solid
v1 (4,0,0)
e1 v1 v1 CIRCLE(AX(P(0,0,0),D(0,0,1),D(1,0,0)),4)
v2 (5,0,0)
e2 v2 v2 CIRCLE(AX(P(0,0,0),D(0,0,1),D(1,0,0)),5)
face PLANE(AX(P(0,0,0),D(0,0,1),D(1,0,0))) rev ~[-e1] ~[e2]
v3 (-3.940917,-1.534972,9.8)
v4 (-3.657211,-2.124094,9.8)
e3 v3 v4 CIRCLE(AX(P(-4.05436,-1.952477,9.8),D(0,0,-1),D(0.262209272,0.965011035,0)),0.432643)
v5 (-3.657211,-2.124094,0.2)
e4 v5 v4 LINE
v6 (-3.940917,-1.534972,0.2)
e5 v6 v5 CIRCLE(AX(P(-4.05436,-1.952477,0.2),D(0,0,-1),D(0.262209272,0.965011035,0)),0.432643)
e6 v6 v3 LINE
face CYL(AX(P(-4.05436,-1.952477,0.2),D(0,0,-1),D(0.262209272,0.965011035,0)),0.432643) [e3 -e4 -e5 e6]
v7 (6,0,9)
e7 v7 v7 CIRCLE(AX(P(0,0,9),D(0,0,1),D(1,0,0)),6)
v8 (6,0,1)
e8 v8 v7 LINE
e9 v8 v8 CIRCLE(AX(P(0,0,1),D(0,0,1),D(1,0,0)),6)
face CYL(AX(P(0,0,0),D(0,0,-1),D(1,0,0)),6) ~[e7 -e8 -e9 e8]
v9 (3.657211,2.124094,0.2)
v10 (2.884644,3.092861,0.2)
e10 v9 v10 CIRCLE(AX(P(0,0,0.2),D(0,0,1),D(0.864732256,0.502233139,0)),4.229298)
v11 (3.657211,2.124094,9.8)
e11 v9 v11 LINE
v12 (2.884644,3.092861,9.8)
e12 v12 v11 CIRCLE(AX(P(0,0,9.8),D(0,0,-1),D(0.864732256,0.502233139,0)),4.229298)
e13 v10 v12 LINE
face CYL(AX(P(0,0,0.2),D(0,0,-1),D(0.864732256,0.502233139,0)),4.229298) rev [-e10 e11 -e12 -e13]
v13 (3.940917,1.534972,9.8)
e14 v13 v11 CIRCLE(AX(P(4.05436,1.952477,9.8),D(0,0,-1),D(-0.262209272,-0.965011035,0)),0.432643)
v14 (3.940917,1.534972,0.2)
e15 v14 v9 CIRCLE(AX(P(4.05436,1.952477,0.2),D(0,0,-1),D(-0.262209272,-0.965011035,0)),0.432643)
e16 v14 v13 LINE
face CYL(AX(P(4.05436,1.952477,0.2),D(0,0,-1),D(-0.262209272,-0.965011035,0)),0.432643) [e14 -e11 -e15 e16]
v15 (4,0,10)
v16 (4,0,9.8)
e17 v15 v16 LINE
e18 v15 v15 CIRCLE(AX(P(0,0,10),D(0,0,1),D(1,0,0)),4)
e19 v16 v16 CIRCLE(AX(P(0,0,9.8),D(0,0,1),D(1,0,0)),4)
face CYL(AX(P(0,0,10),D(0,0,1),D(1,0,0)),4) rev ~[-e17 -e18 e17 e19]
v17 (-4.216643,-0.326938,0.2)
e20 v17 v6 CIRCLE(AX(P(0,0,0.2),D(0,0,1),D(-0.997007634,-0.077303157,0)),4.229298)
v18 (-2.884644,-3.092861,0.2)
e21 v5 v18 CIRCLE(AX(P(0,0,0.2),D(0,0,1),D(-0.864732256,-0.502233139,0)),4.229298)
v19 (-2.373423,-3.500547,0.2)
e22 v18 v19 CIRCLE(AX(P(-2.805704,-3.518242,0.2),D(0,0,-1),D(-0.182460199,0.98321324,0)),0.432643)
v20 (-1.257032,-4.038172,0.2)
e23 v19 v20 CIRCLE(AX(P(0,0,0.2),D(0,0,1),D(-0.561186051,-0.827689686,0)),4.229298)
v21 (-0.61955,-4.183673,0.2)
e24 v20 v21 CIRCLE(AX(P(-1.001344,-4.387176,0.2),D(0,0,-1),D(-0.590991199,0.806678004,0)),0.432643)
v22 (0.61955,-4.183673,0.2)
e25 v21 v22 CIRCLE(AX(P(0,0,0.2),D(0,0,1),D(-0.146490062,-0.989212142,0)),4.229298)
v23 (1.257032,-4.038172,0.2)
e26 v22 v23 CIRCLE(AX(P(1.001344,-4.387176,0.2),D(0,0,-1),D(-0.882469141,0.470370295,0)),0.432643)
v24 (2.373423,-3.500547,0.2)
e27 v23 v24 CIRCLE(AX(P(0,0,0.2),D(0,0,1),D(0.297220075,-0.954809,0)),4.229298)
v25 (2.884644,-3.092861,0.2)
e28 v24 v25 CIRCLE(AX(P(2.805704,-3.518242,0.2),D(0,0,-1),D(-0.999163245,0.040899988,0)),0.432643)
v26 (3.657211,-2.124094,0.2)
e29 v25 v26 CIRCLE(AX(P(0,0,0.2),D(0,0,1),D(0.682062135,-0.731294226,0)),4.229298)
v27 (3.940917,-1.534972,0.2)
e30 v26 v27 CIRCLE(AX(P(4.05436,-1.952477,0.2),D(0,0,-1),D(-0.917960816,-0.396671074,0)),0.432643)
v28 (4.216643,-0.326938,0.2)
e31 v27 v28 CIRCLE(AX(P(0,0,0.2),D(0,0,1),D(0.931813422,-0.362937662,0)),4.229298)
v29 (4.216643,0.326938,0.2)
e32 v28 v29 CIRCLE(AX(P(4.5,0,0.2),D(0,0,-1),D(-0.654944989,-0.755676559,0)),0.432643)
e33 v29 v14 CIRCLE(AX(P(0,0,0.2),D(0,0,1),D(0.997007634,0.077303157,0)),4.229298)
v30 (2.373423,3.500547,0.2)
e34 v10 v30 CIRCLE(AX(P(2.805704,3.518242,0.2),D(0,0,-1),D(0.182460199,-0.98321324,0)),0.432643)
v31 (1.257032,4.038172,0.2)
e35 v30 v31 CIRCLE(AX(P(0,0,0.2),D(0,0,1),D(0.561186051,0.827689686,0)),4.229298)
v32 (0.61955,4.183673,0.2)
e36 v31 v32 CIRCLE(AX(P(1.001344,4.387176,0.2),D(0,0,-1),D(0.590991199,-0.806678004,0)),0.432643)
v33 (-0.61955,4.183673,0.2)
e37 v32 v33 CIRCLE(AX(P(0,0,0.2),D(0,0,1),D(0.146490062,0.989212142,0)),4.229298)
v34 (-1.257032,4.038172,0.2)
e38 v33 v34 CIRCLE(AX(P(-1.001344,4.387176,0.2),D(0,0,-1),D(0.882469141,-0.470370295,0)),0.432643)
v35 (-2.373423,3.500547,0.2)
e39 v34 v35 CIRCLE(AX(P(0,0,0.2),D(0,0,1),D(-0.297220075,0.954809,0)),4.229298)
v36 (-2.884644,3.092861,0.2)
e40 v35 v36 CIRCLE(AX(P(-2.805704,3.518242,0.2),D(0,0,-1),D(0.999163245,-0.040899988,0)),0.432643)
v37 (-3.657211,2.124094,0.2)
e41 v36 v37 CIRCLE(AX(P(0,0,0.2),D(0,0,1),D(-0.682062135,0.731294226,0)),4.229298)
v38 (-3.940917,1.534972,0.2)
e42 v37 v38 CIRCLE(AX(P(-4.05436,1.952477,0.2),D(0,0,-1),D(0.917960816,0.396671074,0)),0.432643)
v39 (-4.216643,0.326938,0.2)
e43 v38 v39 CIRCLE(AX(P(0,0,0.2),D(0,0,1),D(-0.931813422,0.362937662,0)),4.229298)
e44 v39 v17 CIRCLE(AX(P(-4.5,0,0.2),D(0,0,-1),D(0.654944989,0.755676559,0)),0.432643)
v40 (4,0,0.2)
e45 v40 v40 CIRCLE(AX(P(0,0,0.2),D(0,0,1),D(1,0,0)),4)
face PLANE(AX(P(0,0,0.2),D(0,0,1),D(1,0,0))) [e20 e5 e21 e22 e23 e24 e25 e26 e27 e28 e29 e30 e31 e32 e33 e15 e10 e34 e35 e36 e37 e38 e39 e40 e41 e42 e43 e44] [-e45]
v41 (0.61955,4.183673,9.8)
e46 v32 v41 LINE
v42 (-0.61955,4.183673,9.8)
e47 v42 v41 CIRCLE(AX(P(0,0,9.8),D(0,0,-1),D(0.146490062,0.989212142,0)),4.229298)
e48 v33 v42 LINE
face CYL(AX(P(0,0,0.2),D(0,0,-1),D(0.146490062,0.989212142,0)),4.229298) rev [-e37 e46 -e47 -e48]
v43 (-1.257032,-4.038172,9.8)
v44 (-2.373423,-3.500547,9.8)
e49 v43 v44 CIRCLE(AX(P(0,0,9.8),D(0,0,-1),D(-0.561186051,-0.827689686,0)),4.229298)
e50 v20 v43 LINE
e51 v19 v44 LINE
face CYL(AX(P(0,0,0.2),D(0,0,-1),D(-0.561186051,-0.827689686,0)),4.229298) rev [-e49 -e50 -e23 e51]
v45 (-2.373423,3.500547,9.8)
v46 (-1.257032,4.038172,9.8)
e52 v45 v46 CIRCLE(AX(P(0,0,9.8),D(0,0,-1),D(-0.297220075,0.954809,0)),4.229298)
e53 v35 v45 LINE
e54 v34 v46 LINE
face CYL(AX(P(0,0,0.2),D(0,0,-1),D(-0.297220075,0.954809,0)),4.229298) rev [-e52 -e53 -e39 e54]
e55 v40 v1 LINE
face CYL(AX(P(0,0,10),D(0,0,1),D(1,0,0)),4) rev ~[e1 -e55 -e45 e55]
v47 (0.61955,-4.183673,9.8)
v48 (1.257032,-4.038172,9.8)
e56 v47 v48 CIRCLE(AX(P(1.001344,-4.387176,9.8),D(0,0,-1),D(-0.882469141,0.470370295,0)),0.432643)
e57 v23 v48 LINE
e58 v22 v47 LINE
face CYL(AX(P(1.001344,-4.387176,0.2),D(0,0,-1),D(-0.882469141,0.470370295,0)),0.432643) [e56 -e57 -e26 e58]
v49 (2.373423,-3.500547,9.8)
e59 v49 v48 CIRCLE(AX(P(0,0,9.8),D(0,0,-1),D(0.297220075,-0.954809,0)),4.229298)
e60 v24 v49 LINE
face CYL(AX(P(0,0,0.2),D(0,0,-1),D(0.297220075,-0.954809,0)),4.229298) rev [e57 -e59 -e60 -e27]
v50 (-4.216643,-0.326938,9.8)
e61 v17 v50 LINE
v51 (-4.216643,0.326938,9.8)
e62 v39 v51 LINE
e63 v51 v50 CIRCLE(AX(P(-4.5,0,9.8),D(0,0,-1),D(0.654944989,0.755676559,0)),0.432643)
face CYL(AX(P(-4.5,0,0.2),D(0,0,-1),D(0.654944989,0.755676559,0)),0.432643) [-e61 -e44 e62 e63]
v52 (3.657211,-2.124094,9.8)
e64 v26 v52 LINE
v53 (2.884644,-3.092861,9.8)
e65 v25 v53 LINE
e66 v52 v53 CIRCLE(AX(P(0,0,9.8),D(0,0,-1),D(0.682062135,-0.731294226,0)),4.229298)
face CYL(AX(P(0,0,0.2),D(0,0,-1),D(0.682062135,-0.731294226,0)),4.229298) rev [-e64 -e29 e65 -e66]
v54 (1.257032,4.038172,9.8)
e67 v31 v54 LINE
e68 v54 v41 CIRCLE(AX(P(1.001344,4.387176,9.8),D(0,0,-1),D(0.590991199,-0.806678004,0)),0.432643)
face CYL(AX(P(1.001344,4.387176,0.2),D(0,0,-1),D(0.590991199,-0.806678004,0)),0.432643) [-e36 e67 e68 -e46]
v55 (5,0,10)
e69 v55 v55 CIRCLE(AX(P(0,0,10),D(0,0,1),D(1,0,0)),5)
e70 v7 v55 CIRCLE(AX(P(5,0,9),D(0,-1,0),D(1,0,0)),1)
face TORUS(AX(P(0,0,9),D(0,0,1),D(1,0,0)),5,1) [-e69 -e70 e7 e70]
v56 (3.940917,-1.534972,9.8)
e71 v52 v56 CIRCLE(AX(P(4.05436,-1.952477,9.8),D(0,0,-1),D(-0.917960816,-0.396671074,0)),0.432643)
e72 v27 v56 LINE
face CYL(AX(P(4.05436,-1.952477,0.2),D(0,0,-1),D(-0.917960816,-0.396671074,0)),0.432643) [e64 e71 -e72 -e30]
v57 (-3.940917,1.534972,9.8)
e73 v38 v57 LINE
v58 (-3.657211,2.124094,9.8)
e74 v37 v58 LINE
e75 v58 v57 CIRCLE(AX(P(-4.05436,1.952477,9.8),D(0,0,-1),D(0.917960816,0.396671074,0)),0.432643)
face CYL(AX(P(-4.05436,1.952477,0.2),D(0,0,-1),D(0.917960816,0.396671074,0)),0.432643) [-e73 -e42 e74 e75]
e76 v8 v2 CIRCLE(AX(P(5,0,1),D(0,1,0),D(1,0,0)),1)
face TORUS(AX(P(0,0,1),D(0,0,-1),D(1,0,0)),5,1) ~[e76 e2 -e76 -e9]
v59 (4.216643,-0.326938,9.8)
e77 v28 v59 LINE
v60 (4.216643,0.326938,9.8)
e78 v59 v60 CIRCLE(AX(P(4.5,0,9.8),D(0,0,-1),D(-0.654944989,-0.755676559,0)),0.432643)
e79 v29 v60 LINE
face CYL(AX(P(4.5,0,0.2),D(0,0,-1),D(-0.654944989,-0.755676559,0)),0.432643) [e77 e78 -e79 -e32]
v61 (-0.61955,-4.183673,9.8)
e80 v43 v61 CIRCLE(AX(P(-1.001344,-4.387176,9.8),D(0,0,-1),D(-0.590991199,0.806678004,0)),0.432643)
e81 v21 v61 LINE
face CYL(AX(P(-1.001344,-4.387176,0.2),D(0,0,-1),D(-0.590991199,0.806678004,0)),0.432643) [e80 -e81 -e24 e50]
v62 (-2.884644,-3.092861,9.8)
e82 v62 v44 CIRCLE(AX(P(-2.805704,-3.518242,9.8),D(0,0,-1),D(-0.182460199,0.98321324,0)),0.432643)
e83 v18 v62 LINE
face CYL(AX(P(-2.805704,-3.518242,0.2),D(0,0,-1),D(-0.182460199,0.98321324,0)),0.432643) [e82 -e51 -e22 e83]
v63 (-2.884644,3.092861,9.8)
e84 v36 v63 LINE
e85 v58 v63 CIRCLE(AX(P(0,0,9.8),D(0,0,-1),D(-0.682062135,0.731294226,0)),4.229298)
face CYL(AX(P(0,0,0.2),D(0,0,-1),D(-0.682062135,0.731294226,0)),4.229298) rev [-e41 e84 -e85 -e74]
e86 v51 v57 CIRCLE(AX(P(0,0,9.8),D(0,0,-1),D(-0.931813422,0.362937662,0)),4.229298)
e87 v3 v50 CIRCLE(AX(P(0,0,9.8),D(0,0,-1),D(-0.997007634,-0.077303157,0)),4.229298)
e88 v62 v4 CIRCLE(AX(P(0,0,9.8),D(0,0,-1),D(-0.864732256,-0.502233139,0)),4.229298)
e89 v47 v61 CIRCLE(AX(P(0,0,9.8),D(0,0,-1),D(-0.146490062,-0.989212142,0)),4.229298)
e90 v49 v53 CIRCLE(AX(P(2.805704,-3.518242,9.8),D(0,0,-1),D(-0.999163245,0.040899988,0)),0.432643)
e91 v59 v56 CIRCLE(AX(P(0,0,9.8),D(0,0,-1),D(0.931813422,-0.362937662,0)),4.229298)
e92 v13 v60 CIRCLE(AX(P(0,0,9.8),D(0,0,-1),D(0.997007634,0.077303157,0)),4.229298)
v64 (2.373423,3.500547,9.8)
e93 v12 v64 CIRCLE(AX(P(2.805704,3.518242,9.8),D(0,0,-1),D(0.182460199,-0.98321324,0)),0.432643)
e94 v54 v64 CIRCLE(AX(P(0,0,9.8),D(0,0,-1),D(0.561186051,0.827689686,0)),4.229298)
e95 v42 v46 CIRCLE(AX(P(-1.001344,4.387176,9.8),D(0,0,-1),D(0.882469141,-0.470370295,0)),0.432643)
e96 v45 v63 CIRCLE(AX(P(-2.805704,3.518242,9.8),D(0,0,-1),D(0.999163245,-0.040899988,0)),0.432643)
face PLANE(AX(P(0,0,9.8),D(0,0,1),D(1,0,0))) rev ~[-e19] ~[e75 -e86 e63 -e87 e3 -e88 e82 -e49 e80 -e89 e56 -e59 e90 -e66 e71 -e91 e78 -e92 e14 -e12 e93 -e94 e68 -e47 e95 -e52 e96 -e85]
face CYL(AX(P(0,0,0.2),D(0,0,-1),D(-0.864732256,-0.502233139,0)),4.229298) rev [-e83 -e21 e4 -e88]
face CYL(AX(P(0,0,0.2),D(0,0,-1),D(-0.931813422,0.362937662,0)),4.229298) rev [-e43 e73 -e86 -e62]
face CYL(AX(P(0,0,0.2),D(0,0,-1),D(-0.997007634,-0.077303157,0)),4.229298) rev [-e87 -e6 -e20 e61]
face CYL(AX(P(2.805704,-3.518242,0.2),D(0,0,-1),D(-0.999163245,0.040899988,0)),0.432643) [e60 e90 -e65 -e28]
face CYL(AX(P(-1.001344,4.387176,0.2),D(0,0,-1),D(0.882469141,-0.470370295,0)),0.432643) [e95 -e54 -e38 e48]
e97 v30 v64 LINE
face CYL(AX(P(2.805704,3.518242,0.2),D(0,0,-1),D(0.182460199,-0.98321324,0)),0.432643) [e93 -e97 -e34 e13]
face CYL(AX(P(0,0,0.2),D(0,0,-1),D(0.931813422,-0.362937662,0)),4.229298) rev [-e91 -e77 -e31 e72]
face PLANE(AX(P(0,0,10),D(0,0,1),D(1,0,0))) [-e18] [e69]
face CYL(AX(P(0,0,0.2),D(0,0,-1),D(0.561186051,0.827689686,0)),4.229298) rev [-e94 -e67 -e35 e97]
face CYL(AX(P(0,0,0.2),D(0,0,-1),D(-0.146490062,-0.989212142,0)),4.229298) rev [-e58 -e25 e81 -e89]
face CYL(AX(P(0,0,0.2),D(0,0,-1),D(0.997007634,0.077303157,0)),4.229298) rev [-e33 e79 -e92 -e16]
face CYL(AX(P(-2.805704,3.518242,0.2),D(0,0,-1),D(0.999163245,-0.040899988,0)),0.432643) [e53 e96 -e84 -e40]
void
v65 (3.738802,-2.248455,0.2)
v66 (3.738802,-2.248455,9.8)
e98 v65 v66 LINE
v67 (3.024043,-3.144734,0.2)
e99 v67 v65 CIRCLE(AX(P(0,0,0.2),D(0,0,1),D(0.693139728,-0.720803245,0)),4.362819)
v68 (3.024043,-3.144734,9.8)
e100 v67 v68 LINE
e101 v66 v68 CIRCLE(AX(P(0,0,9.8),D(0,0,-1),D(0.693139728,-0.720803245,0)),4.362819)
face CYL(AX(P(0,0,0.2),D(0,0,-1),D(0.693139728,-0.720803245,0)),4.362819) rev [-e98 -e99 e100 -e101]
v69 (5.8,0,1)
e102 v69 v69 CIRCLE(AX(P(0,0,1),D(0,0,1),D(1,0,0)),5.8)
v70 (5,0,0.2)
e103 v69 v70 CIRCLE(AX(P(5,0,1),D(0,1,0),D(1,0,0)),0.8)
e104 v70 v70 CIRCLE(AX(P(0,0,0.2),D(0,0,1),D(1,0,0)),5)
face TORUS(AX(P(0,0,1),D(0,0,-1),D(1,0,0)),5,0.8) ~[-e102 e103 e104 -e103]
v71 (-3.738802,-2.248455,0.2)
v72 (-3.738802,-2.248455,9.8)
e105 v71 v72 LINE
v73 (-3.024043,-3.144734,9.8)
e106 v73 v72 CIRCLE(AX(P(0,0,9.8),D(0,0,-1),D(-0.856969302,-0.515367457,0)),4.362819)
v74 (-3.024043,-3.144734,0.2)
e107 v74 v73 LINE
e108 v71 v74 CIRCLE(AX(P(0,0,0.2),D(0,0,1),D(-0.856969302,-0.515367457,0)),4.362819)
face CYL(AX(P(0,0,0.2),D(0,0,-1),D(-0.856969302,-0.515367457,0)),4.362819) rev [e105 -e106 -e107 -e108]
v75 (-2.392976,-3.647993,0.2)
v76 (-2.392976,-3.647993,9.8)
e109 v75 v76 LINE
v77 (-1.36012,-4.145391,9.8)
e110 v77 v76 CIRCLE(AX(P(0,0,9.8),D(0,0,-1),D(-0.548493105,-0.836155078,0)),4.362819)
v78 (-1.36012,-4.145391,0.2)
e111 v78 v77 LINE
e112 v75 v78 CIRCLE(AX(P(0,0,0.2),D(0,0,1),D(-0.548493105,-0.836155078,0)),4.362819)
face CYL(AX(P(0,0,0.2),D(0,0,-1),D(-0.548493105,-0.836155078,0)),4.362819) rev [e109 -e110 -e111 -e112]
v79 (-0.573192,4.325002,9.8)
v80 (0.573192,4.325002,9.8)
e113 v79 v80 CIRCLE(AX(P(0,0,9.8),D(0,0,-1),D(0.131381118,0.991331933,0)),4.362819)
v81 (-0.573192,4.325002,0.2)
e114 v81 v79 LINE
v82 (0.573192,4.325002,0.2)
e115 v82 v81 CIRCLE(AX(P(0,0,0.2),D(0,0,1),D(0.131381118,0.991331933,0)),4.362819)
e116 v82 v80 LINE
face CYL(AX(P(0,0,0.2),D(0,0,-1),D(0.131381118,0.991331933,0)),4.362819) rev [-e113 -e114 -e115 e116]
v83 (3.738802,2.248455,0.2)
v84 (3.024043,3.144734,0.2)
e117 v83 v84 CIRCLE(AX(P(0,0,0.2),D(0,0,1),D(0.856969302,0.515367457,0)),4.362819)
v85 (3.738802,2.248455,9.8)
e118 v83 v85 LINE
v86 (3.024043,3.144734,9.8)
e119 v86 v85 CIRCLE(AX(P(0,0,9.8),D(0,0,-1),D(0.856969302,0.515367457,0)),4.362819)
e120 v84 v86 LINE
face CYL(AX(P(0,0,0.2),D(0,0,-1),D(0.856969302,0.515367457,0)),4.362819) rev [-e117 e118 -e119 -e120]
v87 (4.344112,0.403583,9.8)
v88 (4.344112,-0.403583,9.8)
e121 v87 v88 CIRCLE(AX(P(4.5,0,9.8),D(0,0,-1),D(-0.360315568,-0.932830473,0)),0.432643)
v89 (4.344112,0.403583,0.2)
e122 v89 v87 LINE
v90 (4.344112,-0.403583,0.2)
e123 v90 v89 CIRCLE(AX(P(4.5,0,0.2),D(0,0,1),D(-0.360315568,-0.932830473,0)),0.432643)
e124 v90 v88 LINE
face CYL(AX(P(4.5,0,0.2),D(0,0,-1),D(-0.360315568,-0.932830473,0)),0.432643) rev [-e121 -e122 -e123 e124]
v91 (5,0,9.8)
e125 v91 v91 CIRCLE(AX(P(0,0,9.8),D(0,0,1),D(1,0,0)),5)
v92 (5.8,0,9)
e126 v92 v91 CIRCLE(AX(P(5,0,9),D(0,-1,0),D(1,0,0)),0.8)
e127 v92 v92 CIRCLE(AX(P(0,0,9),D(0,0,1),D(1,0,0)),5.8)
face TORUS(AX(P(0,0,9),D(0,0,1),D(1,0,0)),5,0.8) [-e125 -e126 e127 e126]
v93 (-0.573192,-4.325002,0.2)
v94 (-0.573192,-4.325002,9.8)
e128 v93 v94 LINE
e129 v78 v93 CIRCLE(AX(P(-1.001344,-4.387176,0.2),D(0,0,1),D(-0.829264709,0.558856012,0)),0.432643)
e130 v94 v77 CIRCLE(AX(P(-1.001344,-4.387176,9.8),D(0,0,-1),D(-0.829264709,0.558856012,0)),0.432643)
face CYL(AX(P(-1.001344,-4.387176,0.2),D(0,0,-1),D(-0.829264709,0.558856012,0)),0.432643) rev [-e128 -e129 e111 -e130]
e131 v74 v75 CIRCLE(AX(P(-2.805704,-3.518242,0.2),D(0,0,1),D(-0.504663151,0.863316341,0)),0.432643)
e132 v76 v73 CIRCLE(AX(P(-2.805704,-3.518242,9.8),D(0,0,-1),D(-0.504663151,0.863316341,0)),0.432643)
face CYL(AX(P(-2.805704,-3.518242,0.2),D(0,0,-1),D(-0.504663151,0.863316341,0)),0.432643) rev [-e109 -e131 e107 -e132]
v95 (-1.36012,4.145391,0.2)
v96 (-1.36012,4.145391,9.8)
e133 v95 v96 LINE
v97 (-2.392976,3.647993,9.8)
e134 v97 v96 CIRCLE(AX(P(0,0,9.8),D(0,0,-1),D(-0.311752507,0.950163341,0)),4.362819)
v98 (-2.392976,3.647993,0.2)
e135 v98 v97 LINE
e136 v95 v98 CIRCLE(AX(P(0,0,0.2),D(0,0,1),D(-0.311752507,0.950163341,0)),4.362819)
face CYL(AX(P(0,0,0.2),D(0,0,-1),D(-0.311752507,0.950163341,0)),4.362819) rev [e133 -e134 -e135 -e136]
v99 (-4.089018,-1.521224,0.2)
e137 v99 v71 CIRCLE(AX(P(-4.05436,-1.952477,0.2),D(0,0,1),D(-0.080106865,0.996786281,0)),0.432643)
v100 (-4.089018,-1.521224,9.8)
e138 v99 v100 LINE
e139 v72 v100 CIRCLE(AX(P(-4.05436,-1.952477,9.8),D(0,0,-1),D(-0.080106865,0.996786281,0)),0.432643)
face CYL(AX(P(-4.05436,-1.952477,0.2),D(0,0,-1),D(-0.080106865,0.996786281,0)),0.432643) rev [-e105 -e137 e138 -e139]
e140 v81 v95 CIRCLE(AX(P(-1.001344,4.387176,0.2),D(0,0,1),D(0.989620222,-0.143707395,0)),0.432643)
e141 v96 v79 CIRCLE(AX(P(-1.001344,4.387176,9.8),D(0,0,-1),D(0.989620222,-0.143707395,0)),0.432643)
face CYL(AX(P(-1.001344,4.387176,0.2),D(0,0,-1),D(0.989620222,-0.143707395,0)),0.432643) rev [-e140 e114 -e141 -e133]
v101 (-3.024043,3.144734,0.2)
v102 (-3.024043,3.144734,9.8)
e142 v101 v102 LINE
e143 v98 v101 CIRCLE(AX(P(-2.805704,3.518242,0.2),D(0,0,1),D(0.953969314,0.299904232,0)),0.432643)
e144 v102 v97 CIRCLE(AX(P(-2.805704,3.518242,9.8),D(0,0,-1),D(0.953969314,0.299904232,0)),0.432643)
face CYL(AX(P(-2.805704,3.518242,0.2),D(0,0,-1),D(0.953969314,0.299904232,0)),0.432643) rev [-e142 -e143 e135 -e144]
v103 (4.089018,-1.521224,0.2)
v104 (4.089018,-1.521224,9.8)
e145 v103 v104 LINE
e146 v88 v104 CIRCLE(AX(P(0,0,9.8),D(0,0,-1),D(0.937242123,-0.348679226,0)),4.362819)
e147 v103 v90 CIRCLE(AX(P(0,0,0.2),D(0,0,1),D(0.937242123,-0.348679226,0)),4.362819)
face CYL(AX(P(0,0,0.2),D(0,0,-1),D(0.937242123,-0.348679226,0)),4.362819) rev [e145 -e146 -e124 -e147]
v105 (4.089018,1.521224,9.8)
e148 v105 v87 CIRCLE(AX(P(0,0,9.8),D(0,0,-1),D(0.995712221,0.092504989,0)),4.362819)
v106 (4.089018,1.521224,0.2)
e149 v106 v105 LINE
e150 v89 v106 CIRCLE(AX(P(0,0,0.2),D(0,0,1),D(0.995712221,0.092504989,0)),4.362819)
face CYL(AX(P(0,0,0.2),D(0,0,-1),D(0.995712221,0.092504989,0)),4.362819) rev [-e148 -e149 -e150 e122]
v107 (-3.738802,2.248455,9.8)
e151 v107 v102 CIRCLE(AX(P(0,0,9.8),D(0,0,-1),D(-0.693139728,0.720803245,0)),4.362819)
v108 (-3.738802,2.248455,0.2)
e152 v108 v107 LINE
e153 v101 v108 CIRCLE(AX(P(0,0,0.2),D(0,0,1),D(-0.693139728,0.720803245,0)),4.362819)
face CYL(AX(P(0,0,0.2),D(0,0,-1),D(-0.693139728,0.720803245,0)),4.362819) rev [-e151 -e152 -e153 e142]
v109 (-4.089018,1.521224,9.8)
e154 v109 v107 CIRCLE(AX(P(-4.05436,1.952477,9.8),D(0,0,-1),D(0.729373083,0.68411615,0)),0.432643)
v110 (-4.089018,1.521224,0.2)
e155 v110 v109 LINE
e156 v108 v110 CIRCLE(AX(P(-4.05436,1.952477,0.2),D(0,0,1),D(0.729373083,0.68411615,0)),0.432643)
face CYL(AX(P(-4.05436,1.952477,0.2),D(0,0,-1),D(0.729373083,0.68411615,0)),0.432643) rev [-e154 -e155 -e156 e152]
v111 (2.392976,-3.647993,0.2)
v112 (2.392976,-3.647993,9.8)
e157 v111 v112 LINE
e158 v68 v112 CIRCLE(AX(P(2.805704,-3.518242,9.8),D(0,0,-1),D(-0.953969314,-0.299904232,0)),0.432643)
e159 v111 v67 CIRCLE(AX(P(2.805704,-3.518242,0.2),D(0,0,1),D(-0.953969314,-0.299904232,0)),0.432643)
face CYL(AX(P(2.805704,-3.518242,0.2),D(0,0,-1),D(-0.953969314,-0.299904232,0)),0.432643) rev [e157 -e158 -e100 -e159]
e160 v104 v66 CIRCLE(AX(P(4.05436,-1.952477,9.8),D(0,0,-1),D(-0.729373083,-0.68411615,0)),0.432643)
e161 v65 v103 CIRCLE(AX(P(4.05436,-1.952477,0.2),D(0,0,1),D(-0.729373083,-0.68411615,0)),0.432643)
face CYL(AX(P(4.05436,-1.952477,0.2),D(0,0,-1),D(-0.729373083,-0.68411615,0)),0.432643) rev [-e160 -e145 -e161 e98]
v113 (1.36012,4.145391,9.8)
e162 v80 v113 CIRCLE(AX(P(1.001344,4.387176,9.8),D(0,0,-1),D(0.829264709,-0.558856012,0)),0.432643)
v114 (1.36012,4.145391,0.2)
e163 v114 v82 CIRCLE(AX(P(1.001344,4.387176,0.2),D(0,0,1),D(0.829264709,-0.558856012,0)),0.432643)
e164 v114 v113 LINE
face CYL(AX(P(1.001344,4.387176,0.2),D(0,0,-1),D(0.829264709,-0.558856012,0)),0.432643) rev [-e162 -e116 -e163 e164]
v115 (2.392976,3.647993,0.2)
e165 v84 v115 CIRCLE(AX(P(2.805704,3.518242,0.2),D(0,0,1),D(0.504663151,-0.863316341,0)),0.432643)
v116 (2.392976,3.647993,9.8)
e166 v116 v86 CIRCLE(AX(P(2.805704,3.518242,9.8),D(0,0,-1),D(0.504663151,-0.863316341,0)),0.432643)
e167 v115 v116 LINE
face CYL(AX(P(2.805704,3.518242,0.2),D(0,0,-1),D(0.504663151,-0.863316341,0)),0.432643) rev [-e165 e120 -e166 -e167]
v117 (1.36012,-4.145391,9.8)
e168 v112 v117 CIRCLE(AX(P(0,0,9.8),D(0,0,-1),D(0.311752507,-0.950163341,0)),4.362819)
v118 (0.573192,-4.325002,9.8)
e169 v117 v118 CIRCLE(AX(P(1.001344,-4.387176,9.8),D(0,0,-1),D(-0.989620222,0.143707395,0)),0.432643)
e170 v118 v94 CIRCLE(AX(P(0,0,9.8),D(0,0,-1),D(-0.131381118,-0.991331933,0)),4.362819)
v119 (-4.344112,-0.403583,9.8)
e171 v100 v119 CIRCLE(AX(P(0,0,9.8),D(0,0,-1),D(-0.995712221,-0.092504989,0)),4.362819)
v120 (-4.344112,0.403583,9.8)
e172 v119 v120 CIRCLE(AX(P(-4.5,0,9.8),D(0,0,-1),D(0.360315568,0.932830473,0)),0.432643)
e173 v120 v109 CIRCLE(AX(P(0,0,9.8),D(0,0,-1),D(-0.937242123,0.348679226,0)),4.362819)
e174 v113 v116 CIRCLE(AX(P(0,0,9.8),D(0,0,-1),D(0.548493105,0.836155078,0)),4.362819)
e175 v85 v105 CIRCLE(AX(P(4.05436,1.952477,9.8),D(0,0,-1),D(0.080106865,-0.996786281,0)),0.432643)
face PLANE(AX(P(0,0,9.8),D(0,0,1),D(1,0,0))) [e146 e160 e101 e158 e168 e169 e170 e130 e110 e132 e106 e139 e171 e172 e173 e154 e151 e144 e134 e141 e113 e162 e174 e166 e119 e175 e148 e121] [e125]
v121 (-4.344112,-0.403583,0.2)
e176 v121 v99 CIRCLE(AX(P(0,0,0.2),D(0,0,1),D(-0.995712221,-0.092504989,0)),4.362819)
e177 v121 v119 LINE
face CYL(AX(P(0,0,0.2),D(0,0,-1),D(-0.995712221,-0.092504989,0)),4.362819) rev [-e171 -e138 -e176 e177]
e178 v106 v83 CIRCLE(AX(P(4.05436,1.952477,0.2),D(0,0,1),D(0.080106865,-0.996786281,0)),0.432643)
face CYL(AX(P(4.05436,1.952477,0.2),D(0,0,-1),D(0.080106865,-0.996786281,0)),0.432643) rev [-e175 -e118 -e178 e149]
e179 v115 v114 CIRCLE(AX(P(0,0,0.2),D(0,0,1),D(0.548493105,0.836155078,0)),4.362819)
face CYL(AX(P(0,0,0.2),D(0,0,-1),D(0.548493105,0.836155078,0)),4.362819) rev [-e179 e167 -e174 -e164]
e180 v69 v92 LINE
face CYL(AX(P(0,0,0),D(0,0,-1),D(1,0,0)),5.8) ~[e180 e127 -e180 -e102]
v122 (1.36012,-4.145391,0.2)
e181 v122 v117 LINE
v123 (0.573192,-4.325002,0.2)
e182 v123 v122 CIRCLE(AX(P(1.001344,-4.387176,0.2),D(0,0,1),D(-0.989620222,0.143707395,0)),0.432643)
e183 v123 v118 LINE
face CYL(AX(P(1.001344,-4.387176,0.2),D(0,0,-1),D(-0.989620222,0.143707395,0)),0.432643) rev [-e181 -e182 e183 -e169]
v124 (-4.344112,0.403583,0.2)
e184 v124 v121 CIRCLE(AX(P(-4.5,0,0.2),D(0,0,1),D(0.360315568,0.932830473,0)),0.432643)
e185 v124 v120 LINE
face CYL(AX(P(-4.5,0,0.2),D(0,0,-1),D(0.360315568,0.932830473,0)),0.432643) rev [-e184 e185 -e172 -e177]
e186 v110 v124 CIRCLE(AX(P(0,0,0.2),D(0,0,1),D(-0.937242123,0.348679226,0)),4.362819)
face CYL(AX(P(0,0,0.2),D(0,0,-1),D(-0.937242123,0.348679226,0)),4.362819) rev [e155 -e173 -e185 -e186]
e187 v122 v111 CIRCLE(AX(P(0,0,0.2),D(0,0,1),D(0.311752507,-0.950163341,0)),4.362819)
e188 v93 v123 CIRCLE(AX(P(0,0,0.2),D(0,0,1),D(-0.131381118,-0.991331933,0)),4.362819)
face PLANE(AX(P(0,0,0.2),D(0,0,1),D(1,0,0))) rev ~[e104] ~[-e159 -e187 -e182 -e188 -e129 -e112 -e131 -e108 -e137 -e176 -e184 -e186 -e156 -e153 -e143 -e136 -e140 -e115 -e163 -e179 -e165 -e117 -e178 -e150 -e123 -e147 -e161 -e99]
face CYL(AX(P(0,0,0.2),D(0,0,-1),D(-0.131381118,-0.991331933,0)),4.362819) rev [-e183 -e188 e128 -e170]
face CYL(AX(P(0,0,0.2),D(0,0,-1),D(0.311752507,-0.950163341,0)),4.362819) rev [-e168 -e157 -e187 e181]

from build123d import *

# Parameters (mm, degrees)
ESQUISSE1_R             = 6
BOSS_EXTRU_2_DEPTH      = 10
CONG_2_R                = 1
ESQUISSE5_R             = 4
ENL_V_MAT_EXTRU_2_DEPTH = 14.114877094
COQUE5_T                = -0.2
BOSS_EXTRU_5_REACH      = 14.963


with BuildPart() as part:
    # Esquisse1 → Boss.-Extru.2 (new body)
    with BuildSketch(Plane.XY):
        Circle(ESQUISSE1_R)
    extrude(amount=BOSS_EXTRU_2_DEPTH)

    # Congé2
    cong_2_edges = [part.edges().sort_by_distance(p)[0] for p in [
        (-6, 0, 0),
        (-6, 0, 10),
    ]]
    fillet(cong_2_edges, radius=CONG_2_R)

    # Esquisse5 → Enlèv. mat.-Extru.2 (cut, through all)
    with BuildSketch(Plane.XY.offset(10)):
        Circle(ESQUISSE5_R)
    extrude(amount=-ENL_V_MAT_EXTRU_2_DEPTH, mode=Mode.SUBTRACT)

    # Coque5
    coque5_openings = [part.faces().sort_by_distance(p)[0] for p in [
        (-4, 0, 5),
    ]]
    offset(amount=COQUE5_T, openings=coque5_openings, kind=Kind.INTERSECTION)

    # Esquisse12 → Boss.-Extru.5 (add, up to next)
    with BuildSketch(Plane.XY.offset(0.2), mode=Mode.PRIVATE) as boss_extru_5_sk1:
        with BuildLine():
            ThreePointArc((-4.089017574, 1.521224294), (-4.253433845, 0.970818519), (-4.344112019, 0.403582504))
            ThreePointArc((-4.344112019, 0.403582504), (-4.932642925, 0), (-4.344112019, -0.403582504))
            ThreePointArc((-4.344112019, -0.403582504), (-4.253433845, -0.970818519), (-4.089017574, -1.521224294))
            ThreePointArc((-4.089017574, -1.521224294), (-4.444157712, -2.140193556), (-3.738801802, -2.248454838))
            ThreePointArc((-3.738801802, -2.248454838), (-3.410989107, -2.720173043), (-3.02404305, -3.144733964))
            ThreePointArc((-3.02404305, -3.144733964), (-3.07545256, -3.85649553), (-2.392976034, -3.647993115))
            ThreePointArc((-2.392976034, -3.647993115), (-1.892956143, -3.930763935), (-1.360119712, -4.145390505))
            ThreePointArc((-1.360119712, -4.145390505), (-1.097616311, -4.808971268), (-0.573192015, -4.325001617))
            ThreePointArc((-0.573192015, -4.325001617), (0, -4.362818822), (0.573192015, -4.325001617))
            ThreePointArc((0.573192015, -4.325001617), (1.097616311, -4.808971268), (1.360119712, -4.145390505))
            ThreePointArc((1.360119712, -4.145390505), (1.892956143, -3.930763935), (2.392976034, -3.647993115))
            ThreePointArc((2.392976034, -3.647993115), (3.07545256, -3.85649553), (3.02404305, -3.144733964))
            ThreePointArc((3.02404305, -3.144733964), (3.410989107, -2.720173043), (3.738801802, -2.248454838))
            ThreePointArc((3.738801802, -2.248454838), (4.444157712, -2.140193556), (4.089017574, -1.521224294))
            ThreePointArc((4.089017574, -1.521224294), (4.253433845, -0.970818519), (4.344112019, -0.403582504))
            ThreePointArc((4.344112019, -0.403582504), (4.932642925, 0), (4.344112019, 0.403582504))
            ThreePointArc((4.344112019, 0.403582504), (4.253433845, 0.970818519), (4.089017574, 1.521224294))
            ThreePointArc((4.089017574, 1.521224294), (4.444157712, 2.140193556), (3.738801802, 2.248454838))
            ThreePointArc((3.738801802, 2.248454838), (3.410989107, 2.720173043), (3.02404305, 3.144733964))
            ThreePointArc((3.02404305, 3.144733964), (3.07545256, 3.85649553), (2.392976034, 3.647993115))
            ThreePointArc((2.392976034, 3.647993115), (1.892956143, 3.930763935), (1.360119712, 4.145390505))
            ThreePointArc((1.360119712, 4.145390505), (1.097616311, 4.808971268), (0.573192015, 4.325001617))
            ThreePointArc((0.573192015, 4.325001617), (0, 4.362818822), (-0.573192015, 4.325001617))
            ThreePointArc((-0.573192015, 4.325001617), (-1.097616311, 4.808971268), (-1.360119712, 4.145390505))
            ThreePointArc((-1.360119712, 4.145390505), (-1.892956143, 3.930763935), (-2.392976034, 3.647993115))
            ThreePointArc((-2.392976034, 3.647993115), (-3.07545256, 3.85649553), (-3.02404305, 3.144733964))
            ThreePointArc((-3.02404305, 3.144733964), (-3.410989107, 2.720173043), (-3.738801802, 2.248454838))
            ThreePointArc((-3.738801802, 2.248454838), (-4.444157712, 2.140193556), (-4.089017574, 1.521224294))
        make_face()
        with BuildLine():
            ThreePointArc((-3.940916918, 1.53497163), (-4.123260956, 0.941107406), (-4.216642684, 0.326938116))
            ThreePointArc((-4.216642684, 0.326938116), (-4.067357075, 0), (-4.216642684, -0.326938116))
            ThreePointArc((-4.216642684, -0.326938116), (-4.123260956, -0.941107406), (-3.940916918, -1.53497163))
            ThreePointArc((-3.940916918, -1.53497163), (-3.664562099, -1.764760096), (-3.657210653, -2.124093759))
            ThreePointArc((-3.657210653, -2.124093759), (-3.306598555, -2.636924355), (-2.884644224, -3.092861419))
            ThreePointArc((-2.884644224, -3.092861419), (-2.535955657, -3.179987812), (-2.373423199, -3.500546582))
            ThreePointArc((-2.373423199, -3.500546582), (-1.835023758, -3.810466096), (-1.257032364, -4.038172073))
            ThreePointArc((-1.257032364, -4.038172073), (-0.905072095, -3.965379941), (-0.619550173, -4.183673224))
            ThreePointArc((-0.619550173, -4.183673224), (0, -4.229298294), (0.619550173, -4.183673224))
            ThreePointArc((0.619550173, -4.183673224), (0.905072095, -3.965379941), (1.257032364, -4.038172073))
            ThreePointArc((1.257032364, -4.038172073), (1.835023758, -3.810466096), (2.373423199, -3.500546582))
            ThreePointArc((2.373423199, -3.500546582), (2.535955657, -3.179987812), (2.884644224, -3.092861419))
            ThreePointArc((2.884644224, -3.092861419), (3.306598555, -2.636924355), (3.657210653, -2.124093759))
            ThreePointArc((3.657210653, -2.124093759), (3.664562099, -1.764760096), (3.940916918, -1.53497163))
            ThreePointArc((3.940916918, -1.53497163), (4.123260956, -0.941107406), (4.216642684, -0.326938116))
            ThreePointArc((4.216642684, -0.326938116), (4.067357075, 0), (4.216642684, 0.326938116))
            ThreePointArc((4.216642684, 0.326938116), (4.123260956, 0.941107406), (3.940916918, 1.53497163))
            ThreePointArc((3.940916918, 1.53497163), (3.664562099, 1.764760096), (3.657210653, 2.124093759))
            ThreePointArc((3.657210653, 2.124093759), (3.306598555, 2.636924355), (2.884644224, 3.092861419))
            ThreePointArc((2.884644224, 3.092861419), (2.535955657, 3.179987812), (2.373423199, 3.500546582))
            ThreePointArc((2.373423199, 3.500546582), (1.835023758, 3.810466096), (1.257032364, 4.038172073))
            ThreePointArc((1.257032364, 4.038172073), (0.905072095, 3.965379941), (0.619550173, 4.183673224))
            ThreePointArc((0.619550173, 4.183673224), (0, 4.229298294), (-0.619550173, 4.183673224))
            ThreePointArc((-0.619550173, 4.183673224), (-0.905072095, 3.965379941), (-1.257032364, 4.038172073))
            ThreePointArc((-1.257032364, 4.038172073), (-1.835023758, 3.810466096), (-2.373423199, 3.500546582))
            ThreePointArc((-2.373423199, 3.500546582), (-2.535955657, 3.179987812), (-2.884644224, 3.092861419))
            ThreePointArc((-2.884644224, 3.092861419), (-3.306598555, 2.636924355), (-3.657210653, 2.124093759))
            ThreePointArc((-3.657210653, 2.124093759), (-3.664562099, 1.764760096), (-3.940916918, 1.53497163))
        make_face(mode=Mode.SUBTRACT)
    boss_extru_5_tool1 = extrude(boss_extru_5_sk1.sketch, amount=BOSS_EXTRU_5_REACH, mode=Mode.PRIVATE) - part.part
    add(boss_extru_5_tool1.solids().sort_by_distance((-3.400205, 2.711573, 0.2))[0])


solid = part.part
